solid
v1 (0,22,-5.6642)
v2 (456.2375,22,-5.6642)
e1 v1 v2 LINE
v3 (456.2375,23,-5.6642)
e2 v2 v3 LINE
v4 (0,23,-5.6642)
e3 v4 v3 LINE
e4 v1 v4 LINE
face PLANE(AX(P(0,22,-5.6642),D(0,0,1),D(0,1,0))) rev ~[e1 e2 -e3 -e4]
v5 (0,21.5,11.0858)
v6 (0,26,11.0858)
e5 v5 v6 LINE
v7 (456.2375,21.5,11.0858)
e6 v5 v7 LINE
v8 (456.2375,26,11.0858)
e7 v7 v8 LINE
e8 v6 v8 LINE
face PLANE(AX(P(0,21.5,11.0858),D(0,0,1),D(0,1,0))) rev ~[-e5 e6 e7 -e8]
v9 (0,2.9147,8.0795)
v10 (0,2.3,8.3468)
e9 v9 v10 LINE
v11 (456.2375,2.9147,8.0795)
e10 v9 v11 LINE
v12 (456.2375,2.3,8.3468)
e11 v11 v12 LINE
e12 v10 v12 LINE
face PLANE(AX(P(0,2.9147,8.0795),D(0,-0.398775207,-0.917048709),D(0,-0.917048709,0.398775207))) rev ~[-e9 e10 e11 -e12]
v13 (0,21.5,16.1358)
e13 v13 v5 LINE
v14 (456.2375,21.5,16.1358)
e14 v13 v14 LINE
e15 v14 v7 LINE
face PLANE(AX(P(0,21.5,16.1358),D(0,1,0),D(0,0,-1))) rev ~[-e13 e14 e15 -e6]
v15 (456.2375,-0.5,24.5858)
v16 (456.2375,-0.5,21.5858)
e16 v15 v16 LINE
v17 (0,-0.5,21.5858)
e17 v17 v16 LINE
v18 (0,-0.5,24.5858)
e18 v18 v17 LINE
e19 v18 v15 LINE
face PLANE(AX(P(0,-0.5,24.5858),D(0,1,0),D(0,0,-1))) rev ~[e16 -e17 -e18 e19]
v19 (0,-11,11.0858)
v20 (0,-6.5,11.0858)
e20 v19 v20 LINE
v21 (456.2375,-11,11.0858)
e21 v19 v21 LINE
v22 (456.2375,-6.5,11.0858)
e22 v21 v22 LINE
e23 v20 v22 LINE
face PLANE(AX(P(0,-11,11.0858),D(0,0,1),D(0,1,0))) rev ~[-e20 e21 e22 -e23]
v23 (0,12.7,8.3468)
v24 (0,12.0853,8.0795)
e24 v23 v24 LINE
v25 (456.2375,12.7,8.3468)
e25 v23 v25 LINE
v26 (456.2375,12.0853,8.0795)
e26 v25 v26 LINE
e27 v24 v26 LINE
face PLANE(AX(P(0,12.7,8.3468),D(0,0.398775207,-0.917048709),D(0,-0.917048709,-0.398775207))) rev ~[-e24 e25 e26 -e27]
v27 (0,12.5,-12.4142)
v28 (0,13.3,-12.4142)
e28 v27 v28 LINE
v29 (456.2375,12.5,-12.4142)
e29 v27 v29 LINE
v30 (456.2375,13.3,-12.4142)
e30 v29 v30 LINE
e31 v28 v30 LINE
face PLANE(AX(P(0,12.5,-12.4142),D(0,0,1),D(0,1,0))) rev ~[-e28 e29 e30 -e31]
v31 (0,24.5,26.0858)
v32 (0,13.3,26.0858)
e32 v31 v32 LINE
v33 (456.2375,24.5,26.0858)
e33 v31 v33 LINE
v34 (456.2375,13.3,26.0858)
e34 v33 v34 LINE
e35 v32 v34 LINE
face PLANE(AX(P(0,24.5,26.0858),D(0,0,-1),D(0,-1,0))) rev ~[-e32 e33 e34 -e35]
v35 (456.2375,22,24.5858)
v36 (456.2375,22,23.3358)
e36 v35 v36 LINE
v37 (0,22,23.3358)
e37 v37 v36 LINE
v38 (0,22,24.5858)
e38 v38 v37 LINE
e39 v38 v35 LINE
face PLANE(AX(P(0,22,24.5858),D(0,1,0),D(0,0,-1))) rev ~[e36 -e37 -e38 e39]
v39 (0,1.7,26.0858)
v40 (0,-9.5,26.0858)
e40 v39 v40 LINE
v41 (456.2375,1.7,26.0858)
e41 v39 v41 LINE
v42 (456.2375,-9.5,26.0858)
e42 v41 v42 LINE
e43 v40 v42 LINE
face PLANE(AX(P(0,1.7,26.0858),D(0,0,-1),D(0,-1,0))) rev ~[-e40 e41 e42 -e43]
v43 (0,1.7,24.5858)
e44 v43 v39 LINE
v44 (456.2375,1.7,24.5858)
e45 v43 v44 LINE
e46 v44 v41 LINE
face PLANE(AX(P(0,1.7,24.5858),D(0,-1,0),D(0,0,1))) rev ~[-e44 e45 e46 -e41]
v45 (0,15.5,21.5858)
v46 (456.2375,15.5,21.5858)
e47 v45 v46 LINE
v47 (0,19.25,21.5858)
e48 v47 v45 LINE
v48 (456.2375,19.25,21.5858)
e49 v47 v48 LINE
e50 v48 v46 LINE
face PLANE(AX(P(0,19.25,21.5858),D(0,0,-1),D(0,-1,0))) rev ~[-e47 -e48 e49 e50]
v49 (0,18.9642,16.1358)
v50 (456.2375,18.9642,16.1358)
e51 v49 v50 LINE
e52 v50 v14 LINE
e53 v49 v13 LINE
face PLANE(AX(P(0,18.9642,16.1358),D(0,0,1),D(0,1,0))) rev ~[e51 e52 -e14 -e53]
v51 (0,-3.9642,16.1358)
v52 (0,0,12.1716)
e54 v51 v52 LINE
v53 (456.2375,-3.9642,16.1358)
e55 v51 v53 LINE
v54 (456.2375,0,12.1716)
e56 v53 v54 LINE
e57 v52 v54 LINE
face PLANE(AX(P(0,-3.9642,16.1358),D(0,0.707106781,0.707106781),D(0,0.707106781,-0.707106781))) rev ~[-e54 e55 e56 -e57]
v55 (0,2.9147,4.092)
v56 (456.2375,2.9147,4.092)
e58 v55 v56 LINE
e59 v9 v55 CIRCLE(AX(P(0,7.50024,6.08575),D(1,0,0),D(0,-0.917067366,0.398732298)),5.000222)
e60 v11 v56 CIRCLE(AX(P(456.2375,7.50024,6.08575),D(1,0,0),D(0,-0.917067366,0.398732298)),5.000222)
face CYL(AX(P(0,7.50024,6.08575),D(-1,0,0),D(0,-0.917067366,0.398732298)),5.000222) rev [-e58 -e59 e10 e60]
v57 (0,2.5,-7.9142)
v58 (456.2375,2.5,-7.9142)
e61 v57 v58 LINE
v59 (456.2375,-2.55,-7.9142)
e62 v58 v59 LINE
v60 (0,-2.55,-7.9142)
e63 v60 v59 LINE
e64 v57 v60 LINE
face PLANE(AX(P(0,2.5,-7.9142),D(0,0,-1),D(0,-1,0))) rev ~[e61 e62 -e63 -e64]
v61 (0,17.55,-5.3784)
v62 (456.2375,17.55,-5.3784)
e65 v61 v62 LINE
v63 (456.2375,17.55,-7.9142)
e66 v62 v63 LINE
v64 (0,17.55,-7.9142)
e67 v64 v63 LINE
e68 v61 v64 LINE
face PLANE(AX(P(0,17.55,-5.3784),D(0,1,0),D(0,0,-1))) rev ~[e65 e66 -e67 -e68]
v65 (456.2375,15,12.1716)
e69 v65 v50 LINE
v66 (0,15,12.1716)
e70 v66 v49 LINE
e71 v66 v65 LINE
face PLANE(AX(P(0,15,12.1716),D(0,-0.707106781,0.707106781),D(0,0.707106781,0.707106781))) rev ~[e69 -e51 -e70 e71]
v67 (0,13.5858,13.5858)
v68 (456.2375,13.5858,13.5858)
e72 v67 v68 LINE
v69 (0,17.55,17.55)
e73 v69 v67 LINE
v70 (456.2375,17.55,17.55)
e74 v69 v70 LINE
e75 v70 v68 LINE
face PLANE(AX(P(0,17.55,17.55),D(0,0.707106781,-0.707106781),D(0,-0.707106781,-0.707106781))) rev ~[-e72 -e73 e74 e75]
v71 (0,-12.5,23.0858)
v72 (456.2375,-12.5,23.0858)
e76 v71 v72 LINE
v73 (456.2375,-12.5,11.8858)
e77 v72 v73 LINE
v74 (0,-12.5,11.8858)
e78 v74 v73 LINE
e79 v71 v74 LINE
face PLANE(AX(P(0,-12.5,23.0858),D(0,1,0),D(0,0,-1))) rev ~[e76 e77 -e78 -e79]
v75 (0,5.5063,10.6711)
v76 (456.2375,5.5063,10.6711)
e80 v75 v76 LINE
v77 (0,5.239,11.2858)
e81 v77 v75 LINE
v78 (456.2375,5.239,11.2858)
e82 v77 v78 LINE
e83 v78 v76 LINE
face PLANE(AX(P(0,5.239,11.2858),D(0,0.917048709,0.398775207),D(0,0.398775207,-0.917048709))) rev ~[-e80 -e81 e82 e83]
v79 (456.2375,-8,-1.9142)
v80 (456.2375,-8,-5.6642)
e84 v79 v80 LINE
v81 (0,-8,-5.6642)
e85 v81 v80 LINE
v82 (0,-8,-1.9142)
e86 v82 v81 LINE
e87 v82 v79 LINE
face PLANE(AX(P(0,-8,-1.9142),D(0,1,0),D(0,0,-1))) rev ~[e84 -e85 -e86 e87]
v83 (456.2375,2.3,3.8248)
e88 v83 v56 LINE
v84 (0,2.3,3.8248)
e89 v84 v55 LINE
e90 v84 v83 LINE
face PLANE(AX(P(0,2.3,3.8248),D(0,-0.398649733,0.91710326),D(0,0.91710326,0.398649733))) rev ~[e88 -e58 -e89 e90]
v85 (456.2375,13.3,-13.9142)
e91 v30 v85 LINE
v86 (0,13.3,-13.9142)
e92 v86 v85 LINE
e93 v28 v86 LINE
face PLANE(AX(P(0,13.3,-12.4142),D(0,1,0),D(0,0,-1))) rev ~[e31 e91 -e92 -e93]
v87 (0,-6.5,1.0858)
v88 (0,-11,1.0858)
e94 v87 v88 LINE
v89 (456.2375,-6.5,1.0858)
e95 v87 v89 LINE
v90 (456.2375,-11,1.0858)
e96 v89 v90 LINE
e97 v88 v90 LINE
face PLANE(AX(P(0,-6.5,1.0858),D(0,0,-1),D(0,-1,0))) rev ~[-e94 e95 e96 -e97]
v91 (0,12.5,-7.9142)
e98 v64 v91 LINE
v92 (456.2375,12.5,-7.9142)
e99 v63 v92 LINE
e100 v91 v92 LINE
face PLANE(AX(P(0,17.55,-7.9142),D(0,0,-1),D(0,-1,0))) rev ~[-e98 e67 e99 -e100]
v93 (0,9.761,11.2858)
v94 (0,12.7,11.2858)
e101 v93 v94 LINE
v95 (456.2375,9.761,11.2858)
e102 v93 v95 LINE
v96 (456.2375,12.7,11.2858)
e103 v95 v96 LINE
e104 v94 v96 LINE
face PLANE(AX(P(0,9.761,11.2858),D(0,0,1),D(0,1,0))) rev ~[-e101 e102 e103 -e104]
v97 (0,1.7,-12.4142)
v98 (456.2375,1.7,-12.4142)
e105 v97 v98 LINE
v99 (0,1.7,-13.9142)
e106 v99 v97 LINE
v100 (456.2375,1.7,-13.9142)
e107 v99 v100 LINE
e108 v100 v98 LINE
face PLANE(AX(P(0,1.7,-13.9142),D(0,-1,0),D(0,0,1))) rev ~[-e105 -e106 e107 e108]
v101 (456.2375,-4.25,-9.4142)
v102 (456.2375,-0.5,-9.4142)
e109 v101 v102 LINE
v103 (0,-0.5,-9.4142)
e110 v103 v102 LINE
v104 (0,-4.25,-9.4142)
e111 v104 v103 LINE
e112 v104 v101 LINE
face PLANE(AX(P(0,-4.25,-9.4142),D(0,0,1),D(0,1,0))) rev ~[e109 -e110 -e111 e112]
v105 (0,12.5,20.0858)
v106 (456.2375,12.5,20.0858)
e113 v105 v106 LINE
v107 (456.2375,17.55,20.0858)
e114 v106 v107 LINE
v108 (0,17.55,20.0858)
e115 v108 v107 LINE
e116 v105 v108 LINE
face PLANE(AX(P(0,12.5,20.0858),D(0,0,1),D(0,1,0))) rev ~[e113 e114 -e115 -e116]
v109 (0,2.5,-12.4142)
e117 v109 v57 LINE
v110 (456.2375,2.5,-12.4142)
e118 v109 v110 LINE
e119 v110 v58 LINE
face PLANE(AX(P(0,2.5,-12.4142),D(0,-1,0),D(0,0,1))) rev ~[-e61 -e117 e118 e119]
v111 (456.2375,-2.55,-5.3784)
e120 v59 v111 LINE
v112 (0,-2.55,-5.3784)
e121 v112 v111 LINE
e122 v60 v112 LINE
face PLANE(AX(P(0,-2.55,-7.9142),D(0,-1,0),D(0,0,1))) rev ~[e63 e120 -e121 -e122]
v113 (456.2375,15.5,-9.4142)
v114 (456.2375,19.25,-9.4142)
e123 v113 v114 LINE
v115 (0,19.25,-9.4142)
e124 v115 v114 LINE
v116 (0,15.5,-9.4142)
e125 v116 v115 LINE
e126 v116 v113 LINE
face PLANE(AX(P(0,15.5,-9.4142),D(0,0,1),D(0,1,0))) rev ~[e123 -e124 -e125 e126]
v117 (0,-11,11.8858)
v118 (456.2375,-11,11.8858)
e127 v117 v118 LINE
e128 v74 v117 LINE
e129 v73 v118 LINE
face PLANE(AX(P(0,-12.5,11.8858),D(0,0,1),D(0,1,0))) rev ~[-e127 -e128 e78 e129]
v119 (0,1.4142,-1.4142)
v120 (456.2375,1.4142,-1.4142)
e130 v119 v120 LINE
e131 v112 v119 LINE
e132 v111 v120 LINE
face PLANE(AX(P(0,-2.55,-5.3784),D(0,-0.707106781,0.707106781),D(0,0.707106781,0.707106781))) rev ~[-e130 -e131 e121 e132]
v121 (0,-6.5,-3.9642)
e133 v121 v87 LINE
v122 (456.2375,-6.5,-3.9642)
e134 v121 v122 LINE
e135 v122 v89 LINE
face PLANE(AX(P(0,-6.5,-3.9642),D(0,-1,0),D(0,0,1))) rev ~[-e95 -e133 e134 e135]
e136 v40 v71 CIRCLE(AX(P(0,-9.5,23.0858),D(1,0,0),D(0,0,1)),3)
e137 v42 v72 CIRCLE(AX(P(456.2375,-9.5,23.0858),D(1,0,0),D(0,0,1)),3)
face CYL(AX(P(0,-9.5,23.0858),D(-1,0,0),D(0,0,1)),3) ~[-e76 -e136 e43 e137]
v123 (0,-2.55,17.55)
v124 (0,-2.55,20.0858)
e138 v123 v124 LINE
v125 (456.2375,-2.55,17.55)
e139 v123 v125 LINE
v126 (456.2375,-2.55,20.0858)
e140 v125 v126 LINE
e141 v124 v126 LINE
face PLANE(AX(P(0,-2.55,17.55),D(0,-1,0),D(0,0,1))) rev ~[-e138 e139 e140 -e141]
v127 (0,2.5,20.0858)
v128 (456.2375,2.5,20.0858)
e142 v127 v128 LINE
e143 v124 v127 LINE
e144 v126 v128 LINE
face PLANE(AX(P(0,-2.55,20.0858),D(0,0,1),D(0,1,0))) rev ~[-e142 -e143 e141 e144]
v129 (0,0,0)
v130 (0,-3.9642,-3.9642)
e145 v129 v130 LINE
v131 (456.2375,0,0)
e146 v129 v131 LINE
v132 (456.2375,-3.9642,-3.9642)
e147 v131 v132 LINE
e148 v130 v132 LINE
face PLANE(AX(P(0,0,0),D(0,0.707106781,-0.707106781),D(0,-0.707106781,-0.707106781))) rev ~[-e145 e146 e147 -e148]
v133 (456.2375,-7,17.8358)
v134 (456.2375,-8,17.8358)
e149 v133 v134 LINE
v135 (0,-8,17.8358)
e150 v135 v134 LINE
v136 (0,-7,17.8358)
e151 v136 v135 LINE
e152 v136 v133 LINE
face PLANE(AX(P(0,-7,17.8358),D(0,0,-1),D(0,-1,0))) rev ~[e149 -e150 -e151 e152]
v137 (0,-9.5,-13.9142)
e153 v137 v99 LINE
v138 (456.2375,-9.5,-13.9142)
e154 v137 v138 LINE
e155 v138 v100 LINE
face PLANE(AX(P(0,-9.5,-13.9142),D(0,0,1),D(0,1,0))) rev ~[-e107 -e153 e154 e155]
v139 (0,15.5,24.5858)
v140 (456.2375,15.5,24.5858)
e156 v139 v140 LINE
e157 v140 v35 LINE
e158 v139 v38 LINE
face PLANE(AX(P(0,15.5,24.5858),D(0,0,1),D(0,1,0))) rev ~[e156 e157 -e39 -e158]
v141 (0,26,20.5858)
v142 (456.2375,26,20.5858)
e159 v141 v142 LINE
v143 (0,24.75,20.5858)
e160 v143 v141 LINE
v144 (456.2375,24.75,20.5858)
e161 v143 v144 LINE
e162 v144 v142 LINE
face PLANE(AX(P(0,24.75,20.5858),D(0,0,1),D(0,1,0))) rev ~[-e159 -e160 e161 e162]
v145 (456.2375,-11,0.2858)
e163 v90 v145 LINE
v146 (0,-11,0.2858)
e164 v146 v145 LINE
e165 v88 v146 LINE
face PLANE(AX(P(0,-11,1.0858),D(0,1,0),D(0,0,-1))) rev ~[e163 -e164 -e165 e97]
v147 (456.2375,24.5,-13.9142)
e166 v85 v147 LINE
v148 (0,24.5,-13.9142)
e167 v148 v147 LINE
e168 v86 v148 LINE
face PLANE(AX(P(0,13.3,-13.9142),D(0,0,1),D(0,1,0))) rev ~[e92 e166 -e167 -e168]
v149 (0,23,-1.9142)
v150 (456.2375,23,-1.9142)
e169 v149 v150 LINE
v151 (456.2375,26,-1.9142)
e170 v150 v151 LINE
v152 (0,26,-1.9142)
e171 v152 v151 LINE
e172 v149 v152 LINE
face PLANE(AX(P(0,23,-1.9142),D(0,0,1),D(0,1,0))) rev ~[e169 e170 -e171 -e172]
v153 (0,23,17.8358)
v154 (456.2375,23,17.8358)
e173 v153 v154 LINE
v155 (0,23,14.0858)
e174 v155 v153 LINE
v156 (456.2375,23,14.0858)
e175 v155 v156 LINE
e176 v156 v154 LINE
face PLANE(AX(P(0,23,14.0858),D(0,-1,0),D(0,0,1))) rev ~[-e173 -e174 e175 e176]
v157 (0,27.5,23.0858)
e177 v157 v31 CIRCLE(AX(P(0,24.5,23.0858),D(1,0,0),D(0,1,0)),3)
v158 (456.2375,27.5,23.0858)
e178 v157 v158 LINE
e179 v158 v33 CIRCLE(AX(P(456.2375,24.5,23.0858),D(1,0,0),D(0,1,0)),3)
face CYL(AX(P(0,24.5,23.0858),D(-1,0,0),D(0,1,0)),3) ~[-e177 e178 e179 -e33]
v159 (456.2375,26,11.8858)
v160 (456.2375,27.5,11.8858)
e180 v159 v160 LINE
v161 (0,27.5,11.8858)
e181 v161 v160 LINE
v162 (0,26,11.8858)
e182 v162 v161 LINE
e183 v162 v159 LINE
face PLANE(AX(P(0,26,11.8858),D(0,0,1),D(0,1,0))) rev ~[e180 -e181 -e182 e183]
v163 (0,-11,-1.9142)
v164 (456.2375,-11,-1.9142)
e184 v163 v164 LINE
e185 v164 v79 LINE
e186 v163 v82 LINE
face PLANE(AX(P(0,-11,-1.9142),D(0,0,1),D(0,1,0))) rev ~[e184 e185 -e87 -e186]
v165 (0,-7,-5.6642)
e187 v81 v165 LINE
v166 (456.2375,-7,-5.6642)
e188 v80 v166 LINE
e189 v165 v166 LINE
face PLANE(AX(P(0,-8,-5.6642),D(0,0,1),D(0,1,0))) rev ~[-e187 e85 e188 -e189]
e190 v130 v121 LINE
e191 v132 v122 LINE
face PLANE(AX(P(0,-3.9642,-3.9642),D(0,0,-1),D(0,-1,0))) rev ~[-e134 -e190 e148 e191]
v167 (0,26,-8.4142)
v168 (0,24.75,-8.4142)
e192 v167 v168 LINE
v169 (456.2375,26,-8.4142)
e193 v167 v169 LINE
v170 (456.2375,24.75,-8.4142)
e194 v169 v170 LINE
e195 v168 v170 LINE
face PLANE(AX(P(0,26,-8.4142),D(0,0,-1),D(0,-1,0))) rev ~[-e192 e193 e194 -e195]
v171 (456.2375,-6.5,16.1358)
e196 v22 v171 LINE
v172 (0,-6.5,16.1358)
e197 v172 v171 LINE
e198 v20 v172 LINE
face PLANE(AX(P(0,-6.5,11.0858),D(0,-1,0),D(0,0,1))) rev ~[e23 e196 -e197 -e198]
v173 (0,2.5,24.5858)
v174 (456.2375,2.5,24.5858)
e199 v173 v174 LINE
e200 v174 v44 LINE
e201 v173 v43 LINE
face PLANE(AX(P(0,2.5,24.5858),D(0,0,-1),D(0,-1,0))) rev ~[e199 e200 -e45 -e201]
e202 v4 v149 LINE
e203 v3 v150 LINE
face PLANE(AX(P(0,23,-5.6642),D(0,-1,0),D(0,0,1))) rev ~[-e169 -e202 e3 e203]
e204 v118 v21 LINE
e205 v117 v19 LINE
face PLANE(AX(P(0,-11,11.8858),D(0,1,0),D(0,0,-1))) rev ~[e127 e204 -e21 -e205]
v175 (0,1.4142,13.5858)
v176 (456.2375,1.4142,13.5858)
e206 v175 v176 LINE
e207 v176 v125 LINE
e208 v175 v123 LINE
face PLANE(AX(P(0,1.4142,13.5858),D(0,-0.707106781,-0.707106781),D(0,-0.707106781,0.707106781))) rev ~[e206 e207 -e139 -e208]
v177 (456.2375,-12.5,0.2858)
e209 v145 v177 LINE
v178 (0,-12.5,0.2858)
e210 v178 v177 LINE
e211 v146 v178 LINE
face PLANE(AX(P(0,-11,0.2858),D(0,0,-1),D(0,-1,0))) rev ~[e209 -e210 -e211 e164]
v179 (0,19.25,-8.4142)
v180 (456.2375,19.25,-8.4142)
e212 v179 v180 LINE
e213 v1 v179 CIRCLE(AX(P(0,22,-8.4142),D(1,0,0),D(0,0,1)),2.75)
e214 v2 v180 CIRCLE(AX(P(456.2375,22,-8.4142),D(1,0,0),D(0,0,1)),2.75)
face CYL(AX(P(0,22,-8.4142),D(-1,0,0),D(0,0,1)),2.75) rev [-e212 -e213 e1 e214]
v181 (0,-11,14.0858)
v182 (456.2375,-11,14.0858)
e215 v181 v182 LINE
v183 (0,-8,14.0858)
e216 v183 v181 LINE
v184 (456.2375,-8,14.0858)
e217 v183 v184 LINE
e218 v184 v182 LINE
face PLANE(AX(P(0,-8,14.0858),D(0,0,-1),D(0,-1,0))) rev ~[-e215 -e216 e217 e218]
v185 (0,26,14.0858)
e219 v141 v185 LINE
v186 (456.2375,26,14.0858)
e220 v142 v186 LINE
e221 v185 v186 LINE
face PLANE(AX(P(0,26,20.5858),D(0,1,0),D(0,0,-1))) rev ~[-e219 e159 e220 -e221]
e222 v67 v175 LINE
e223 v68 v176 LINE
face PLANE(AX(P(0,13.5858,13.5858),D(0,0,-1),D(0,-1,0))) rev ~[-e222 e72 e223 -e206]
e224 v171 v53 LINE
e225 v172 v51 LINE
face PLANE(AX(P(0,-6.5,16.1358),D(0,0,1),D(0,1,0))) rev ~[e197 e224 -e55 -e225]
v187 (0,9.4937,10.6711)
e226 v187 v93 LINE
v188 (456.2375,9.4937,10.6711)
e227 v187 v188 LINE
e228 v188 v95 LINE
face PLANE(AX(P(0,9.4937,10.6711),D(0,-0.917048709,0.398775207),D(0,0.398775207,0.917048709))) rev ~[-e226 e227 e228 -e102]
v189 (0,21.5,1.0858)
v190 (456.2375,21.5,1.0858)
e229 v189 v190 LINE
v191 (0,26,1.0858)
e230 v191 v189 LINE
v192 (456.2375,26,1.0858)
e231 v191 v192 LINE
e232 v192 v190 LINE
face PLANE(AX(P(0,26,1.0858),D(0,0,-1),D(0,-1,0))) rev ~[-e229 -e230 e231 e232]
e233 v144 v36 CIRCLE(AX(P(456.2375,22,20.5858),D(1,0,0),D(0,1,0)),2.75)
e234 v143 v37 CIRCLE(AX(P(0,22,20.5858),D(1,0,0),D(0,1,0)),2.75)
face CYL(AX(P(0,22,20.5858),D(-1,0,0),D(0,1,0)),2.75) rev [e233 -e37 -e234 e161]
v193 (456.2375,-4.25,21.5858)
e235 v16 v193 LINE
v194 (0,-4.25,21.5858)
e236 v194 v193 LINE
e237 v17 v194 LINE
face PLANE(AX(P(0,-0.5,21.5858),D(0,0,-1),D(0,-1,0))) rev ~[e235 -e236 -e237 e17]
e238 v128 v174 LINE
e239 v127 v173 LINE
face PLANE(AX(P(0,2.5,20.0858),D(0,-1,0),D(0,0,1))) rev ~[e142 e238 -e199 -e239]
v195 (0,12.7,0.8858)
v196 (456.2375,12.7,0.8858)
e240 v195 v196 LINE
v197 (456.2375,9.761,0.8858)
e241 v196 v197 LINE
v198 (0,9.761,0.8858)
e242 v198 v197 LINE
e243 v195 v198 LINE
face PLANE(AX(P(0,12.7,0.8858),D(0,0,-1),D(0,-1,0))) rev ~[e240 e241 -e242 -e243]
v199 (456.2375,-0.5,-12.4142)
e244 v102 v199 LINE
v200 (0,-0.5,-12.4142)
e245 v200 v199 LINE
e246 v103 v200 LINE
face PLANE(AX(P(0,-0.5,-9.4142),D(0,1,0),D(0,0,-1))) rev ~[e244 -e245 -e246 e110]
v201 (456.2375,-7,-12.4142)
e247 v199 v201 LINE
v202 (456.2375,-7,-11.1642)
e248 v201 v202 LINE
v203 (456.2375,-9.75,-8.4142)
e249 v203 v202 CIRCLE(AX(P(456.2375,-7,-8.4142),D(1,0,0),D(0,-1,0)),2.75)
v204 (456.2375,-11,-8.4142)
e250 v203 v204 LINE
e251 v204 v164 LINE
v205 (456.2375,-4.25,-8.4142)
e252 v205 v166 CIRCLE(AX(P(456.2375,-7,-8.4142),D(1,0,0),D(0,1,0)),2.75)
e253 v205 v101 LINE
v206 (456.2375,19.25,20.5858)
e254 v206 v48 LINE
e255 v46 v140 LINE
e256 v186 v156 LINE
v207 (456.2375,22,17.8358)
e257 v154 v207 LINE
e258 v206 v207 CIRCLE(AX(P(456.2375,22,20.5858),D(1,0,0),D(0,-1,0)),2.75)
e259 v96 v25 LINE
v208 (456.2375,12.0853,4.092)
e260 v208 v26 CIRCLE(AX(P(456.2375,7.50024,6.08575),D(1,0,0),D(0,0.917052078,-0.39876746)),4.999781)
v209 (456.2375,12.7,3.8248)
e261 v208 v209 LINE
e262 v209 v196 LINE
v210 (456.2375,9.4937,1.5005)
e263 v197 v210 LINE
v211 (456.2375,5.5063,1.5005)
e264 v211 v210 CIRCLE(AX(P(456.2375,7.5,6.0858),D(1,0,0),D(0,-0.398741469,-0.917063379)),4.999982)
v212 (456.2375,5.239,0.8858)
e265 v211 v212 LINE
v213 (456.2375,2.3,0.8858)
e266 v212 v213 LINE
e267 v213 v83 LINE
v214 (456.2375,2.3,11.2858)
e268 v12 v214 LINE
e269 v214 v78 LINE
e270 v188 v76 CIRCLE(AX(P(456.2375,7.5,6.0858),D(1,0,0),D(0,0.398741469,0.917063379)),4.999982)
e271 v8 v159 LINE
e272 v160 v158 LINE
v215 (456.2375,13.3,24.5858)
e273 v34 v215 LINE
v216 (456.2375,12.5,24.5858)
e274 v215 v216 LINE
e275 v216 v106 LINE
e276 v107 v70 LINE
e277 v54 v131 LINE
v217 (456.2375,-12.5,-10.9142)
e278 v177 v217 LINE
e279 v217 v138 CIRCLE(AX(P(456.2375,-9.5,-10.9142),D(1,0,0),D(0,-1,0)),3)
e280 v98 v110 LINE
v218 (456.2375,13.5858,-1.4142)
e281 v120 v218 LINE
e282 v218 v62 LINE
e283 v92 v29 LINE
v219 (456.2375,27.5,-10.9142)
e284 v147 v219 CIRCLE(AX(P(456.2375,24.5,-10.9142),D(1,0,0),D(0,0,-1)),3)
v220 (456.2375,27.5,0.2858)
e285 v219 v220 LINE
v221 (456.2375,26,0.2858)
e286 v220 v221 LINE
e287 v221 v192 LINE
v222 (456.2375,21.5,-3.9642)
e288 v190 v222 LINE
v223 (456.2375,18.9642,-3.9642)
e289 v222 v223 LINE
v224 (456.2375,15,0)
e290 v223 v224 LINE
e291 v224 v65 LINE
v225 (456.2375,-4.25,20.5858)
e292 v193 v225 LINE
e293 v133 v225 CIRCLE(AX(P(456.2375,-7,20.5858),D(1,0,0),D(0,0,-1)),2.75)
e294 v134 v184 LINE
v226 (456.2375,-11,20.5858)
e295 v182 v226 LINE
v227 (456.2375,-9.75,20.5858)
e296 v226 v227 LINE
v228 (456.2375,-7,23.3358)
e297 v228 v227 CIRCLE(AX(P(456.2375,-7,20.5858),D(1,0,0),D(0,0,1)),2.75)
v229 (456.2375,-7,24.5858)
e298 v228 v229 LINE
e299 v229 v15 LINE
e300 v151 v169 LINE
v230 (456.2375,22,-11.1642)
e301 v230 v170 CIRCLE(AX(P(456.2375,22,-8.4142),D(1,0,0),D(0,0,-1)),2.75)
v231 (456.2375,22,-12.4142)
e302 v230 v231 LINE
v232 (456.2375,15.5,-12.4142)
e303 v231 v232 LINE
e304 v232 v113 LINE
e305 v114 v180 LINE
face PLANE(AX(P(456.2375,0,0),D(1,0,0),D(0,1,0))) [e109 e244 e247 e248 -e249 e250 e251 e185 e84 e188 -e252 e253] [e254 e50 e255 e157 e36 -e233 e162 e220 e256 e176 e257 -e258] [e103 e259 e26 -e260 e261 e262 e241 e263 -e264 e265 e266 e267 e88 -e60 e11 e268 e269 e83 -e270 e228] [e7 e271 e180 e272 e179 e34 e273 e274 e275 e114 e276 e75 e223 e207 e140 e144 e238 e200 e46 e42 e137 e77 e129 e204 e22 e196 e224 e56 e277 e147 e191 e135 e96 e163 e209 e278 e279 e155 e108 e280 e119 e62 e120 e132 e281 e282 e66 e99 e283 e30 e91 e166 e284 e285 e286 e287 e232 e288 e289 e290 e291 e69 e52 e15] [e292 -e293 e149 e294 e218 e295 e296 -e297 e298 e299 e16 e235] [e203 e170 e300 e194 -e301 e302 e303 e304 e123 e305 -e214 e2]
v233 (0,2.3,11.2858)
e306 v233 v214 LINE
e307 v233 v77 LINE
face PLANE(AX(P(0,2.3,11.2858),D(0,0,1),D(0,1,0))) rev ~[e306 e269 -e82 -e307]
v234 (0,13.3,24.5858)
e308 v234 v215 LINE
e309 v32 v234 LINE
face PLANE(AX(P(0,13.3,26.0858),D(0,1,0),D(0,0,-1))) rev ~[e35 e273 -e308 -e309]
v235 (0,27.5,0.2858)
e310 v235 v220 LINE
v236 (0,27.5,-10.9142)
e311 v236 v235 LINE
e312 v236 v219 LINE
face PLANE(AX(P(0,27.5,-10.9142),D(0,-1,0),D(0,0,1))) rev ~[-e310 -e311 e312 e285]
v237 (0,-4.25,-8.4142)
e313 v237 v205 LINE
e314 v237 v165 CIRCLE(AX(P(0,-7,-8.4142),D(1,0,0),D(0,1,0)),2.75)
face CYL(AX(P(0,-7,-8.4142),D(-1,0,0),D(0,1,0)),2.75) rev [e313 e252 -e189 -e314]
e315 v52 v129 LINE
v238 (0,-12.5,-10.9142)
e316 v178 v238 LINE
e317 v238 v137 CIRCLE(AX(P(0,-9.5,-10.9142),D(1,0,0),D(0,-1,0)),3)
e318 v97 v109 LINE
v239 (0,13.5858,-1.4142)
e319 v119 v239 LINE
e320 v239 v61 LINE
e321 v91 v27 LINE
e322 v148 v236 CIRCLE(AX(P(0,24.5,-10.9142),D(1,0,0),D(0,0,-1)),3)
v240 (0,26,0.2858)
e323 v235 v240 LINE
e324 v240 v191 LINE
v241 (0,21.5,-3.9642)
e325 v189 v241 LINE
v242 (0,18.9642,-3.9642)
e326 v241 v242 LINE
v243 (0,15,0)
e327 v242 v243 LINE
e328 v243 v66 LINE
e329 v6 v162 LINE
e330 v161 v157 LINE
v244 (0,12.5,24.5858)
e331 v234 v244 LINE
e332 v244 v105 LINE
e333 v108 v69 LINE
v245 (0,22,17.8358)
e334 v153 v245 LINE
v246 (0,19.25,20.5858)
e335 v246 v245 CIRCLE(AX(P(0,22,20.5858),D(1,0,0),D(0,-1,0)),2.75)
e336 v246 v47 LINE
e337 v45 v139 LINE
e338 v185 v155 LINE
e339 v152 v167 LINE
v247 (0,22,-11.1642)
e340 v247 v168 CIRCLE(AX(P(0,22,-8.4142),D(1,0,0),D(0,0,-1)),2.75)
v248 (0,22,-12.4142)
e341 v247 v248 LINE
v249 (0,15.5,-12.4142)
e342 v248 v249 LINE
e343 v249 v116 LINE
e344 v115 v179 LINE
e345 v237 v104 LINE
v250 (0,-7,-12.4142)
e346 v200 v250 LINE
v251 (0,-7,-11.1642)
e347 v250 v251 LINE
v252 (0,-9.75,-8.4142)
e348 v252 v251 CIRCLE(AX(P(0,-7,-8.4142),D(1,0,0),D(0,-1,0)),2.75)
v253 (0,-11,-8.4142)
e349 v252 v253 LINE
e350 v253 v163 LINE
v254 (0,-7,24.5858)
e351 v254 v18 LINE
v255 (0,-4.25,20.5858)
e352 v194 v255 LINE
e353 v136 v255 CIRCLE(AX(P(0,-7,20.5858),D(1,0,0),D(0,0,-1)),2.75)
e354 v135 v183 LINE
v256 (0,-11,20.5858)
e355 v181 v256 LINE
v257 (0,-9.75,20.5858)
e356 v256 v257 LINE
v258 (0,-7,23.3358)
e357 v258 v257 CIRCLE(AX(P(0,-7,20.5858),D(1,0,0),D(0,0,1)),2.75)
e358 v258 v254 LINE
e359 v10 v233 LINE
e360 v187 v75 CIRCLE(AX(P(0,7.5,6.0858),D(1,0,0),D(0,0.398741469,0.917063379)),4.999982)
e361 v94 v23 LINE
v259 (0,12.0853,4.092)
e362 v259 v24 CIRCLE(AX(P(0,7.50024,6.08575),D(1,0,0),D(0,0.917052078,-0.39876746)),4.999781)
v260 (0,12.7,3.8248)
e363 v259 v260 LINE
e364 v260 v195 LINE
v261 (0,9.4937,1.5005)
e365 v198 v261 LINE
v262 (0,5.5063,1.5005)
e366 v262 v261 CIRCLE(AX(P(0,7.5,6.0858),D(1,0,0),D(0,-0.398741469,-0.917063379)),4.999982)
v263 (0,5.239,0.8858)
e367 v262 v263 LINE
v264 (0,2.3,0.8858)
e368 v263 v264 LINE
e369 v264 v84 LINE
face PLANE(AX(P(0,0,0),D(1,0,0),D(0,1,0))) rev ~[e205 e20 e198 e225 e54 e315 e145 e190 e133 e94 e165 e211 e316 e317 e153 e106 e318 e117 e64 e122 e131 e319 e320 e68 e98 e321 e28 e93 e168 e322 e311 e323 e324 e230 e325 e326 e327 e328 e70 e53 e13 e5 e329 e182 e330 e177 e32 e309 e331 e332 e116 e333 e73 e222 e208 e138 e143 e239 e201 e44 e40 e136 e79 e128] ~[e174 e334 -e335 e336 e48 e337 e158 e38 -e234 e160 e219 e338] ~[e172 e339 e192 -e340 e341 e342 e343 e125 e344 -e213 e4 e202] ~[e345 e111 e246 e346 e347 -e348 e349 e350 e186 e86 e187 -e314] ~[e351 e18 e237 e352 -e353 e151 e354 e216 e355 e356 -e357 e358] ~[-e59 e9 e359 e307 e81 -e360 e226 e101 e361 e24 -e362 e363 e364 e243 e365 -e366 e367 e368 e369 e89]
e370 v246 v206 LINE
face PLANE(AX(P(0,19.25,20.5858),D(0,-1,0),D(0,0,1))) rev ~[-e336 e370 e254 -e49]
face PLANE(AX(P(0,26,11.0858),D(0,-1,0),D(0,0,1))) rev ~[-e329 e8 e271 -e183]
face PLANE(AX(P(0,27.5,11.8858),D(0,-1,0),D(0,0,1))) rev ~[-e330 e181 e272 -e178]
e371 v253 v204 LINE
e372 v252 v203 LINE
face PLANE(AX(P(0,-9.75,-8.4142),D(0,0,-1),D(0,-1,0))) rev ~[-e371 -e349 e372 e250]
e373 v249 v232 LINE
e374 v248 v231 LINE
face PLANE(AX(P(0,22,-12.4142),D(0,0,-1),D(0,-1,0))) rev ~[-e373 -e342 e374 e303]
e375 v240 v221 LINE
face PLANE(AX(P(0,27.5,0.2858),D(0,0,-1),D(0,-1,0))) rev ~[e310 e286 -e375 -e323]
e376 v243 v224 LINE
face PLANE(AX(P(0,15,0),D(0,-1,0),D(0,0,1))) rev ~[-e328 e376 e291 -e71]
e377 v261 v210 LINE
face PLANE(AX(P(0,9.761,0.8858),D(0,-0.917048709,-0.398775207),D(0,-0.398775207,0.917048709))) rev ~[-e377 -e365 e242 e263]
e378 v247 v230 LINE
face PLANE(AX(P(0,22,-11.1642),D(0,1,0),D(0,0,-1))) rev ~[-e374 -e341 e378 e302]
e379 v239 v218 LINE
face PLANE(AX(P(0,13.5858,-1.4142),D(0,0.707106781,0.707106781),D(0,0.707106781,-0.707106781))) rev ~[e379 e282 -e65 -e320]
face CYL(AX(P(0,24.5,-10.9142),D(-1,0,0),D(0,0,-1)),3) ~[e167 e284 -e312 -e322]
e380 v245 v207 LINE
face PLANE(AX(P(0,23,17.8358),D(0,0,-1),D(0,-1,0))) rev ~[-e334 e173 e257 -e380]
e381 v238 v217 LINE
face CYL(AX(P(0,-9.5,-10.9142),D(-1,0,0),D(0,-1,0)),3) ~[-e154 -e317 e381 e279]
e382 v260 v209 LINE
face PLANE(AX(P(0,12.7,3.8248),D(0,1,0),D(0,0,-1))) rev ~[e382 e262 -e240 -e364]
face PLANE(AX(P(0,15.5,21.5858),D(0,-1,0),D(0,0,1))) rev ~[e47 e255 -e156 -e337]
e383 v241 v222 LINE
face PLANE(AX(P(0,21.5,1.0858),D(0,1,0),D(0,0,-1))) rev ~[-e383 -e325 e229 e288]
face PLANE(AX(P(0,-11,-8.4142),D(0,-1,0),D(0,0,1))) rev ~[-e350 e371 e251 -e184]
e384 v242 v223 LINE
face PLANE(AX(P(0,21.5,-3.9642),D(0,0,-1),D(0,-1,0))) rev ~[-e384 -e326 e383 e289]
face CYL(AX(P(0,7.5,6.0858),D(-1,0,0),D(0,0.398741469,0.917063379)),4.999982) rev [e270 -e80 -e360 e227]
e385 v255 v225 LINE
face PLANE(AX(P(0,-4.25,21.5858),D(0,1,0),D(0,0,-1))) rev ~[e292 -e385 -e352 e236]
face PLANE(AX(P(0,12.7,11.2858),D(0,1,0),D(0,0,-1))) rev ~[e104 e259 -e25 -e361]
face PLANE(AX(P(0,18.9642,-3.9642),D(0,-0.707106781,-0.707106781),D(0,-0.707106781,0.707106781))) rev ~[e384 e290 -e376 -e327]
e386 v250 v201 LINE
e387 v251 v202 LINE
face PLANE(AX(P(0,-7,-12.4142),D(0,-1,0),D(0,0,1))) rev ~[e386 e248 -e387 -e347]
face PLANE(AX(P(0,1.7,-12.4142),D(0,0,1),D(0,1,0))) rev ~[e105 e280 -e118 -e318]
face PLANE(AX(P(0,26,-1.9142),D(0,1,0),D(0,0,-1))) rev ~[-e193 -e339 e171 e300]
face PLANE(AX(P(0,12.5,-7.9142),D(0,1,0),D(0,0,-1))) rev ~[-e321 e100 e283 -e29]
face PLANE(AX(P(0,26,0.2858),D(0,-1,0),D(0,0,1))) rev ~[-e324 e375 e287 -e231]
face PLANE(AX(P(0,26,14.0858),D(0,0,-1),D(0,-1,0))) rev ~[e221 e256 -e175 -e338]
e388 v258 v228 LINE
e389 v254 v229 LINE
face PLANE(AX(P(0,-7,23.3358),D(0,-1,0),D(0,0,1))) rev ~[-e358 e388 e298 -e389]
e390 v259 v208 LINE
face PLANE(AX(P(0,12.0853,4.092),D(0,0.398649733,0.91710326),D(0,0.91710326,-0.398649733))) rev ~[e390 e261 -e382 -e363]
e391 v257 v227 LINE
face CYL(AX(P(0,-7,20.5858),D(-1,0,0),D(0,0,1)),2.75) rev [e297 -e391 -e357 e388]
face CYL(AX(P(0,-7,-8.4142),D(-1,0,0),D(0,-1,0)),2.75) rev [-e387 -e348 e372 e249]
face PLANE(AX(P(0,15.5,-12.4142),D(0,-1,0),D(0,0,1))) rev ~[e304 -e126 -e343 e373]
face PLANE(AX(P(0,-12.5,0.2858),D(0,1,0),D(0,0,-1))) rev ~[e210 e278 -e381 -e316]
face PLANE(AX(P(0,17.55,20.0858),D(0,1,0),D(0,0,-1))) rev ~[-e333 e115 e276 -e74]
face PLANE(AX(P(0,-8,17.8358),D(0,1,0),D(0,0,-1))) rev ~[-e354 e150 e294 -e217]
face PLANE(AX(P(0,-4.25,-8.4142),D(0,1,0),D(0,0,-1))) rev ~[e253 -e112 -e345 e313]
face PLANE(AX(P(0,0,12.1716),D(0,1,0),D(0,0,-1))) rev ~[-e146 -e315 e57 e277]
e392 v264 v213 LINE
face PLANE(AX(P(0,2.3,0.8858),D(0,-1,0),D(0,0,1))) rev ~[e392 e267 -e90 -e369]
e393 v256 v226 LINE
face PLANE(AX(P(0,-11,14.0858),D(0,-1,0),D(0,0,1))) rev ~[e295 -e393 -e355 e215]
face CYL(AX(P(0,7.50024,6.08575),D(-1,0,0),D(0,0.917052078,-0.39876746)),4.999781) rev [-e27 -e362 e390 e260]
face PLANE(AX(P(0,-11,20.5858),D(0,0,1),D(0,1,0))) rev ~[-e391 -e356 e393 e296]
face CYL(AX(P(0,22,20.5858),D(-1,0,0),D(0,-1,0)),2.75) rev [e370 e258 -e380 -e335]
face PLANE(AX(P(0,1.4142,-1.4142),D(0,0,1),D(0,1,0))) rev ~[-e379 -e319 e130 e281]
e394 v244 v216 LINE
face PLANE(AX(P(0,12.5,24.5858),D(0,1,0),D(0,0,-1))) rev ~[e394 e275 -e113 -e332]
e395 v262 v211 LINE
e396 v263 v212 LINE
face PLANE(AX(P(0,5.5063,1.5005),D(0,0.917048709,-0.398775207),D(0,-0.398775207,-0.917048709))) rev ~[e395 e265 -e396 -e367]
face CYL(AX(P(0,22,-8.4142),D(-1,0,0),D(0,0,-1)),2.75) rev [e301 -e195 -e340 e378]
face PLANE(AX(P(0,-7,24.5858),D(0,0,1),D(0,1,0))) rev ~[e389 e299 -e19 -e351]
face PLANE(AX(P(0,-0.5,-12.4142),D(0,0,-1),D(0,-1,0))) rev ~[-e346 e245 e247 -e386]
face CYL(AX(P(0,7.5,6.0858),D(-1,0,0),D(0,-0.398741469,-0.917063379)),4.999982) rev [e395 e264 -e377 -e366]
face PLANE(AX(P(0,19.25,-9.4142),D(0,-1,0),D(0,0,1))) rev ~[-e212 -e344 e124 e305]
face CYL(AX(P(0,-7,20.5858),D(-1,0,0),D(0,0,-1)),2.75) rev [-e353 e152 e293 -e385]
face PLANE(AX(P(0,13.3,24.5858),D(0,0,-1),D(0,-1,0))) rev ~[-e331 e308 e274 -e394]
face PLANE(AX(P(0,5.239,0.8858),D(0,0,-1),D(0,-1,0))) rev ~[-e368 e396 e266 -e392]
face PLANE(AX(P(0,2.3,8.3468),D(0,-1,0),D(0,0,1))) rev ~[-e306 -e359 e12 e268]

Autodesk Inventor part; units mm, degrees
ref_plane "YZ Plane" through (0, 0, 0) normal (1, 0, 0) x (0, 1, 0)
ref_plane "XZ Plane" through (0, 0, 0) normal (0, 1, 0) x (-1, 0, 0)
ref_plane "XY Plane" through (0, 0, 0) normal (0, 0, 1) x (1, 0, 0)
sketch "Sketch1" plane through (0, 0, 0) normal (1, 0, 0) x (0, 1, 0)
  line L0 (0, 12.1716) -> (0, 0)
  line L1 (0, 0) -> (-3.9642, -3.9642)
  line L2 (-3.9642, -3.9642) -> (-6.5, -3.9642)
  line L3 (-6.5, -3.9642) -> (-6.5, 1.0858)
  line L4 (-6.5, 1.0858) -> (-11, 1.0858)
  line L5 (-11, 1.0858) -> (-11, 0.2858)
  line L6 (-11, 0.2858) -> (-12.5, 0.2858)
  line L7 (-12.5, 0.2858) -> (-12.5, -10.9142)
  arc A0 (-12.5, -10.9142) -> (-9.5, -13.9142) centre (-9.5, -10.9142) ccw
  line L8 (-9.5, -13.9142) -> (1.7, -13.9142)
  line L9 (1.7, -13.9142) -> (1.7, -12.4142)
  line L10 (1.7, -12.4142) -> (2.5, -12.4142)
  line L11 (2.5, -12.4142) -> (2.5, -7.9142)
  line L12 (2.5, -7.9142) -> (-2.55, -7.9142)
  line L13 (-2.55, -7.9142) -> (-2.55, -5.3784)
  line L14 (-2.55, -5.3784) -> (1.4142, -1.4142)
  line L15 (1.4142, -1.4142) -> (13.5858, -1.4142)
  line L16 (13.5858, -1.4142) -> (17.55, -5.3784)
  line L17 (17.55, -5.3784) -> (17.55, -7.9142)
  line L18 (17.55, -7.9142) -> (12.5, -7.9142)
  line L19 (12.5, -7.9142) -> (12.5, -12.4142)
  line L20 (12.5, -12.4142) -> (13.3, -12.4142)
  line L21 (13.3, -12.4142) -> (13.3, -13.9142)
  line L22 (13.3, -13.9142) -> (24.5, -13.9142)
  arc A1 (24.5, -13.9142) -> (27.5, -10.9142) centre (24.5, -10.9142) ccw
  line L23 (27.5, -10.9142) -> (27.5, 0.2858)
  line L24 (27.5, 0.2858) -> (26, 0.2858)
  line L25 (26, 0.2858) -> (26, 1.0858)
  line L26 (26, 1.0858) -> (21.5, 1.0858)
  line L27 (21.5, 1.0858) -> (21.5, -3.9642)
  line L28 (21.5, -3.9642) -> (18.9642, -3.9642)
  line L29 (18.9642, -3.9642) -> (15, 0)
  line L30 (15, 0) -> (15, 12.1716)
  line L31 (15, 12.1716) -> (18.9642, 16.1358)
  line L32 (18.9642, 16.1358) -> (21.5, 16.1358)
  line L33 (21.5, 16.1358) -> (21.5, 11.0858)
  line L34 (21.5, 11.0858) -> (26, 11.0858)
  line L35 (26, 11.0858) -> (26, 11.8858)
  line L36 (26, 11.8858) -> (27.5, 11.8858)
  line L37 (27.5, 11.8858) -> (27.5, 23.0858)
  arc A2 (27.5, 23.0858) -> (24.5, 26.0858) centre (24.5, 23.0858) ccw
  line L38 (24.5, 26.0858) -> (13.3, 26.0858)
  line L39 (13.3, 26.0858) -> (13.3, 24.5858)
  line L40 (13.3, 24.5858) -> (12.5, 24.5858)
  line L41 (12.5, 24.5858) -> (12.5, 20.0858)
  line L42 (12.5, 20.0858) -> (17.55, 20.0858)
  line L43 (17.55, 20.0858) -> (17.55, 17.55)
  line L44 (17.55, 17.55) -> (13.5858, 13.5858)
  line L45 (13.5858, 13.5858) -> (1.4142, 13.5858)
  line L46 (1.4142, 13.5858) -> (-2.55, 17.55)
  line L47 (-2.55, 17.55) -> (-2.55, 20.0858)
  line L48 (-2.55, 20.0858) -> (2.5, 20.0858)
  line L49 (2.5, 20.0858) -> (2.5, 24.5858)
  line L50 (2.5, 24.5858) -> (1.7, 24.5858)
  line L51 (1.7, 24.5858) -> (1.7, 26.0858)
  line L52 (1.7, 26.0858) -> (-9.5, 26.0858)
  arc A3 (-9.5, 26.0858) -> (-12.5, 23.0858) centre (-9.5, 23.0858) ccw
  line L53 (-12.5, 23.0858) -> (-12.5, 11.8858)
  line L54 (-12.5, 11.8858) -> (-11, 11.8858)
  line L55 (-11, 11.8858) -> (-11, 11.0858)
  line L56 (-11, 11.0858) -> (-6.5, 11.0858)
  line L57 (-6.5, 11.0858) -> (-6.5, 16.1358)
  line L58 (-6.5, 16.1358) -> (-3.9642, 16.1358)
  line L59 (-3.9642, 16.1358) -> (0, 12.1716)
  line L60 (-0.5, 24.5858) -> (-0.5, 21.5858)
  line L61 (-0.5, 21.5858) -> (-4.25, 21.5858)
  line L62 (-4.25, 21.5858) -> (-4.25, 20.5858)
  arc A4 (-7, 17.8358) -> (-4.25, 20.5858) centre (-7, 20.5858) ccw
  line L63 (-7, 17.8358) -> (-8, 17.8358)
  line L64 (-8, 17.8358) -> (-8, 14.0858)
  line L65 (-8, 14.0858) -> (-11, 14.0858)
  line L66 (-11, 14.0858) -> (-11, 20.5858)
  line L67 (-11, 20.5858) -> (-9.75, 20.5858)
  arc A5 (-7, 23.3358) -> (-9.75, 20.5858) centre (-7, 20.5858) ccw
  line L68 (-7, 23.3358) -> (-7, 24.5858)
  line L69 (-7, 24.5858) -> (-0.5, 24.5858)
  line L70 (26, 14.0858) -> (23, 14.0858)
  line L71 (23, 14.0858) -> (23, 17.8358)
  line L72 (23, 17.8358) -> (22, 17.8358)
  arc A6 (19.25, 20.5858) -> (22, 17.8358) centre (22, 20.5858) ccw
  line L73 (19.25, 20.5858) -> (19.25, 21.5858)
  line L74 (19.25, 21.5858) -> (15.5, 21.5858)
  line L75 (15.5, 21.5858) -> (15.5, 24.5858)
  line L76 (15.5, 24.5858) -> (22, 24.5858)
  line L77 (22, 24.5858) -> (22, 23.3358)
  arc A7 (24.75, 20.5858) -> (22, 23.3358) centre (22, 20.5858) ccw
  line L78 (24.75, 20.5858) -> (26, 20.5858)
  line L79 (26, 20.5858) -> (26, 14.0858)
  line L80 (15.5, -12.4142) -> (15.5, -9.4142)
  line L81 (15.5, -9.4142) -> (19.25, -9.4142)
  line L82 (19.25, -9.4142) -> (19.25, -8.4142)
  arc A8 (22, -5.6642) -> (19.25, -8.4142) centre (22, -8.4142) ccw
  line L83 (22, -5.6642) -> (23, -5.6642)
  line L84 (23, -5.6642) -> (23, -1.9142)
  line L85 (23, -1.9142) -> (26, -1.9142)
  line L86 (26, -1.9142) -> (26, -8.4142)
  line L87 (26, -8.4142) -> (24.75, -8.4142)
  arc A9 (22, -11.1642) -> (24.75, -8.4142) centre (22, -8.4142) ccw
  line L88 (22, -11.1642) -> (22, -12.4142)
  line L89 (22, -12.4142) -> (15.5, -12.4142)
  line L90 (9.761, 0.8858) -> (9.4937, 1.5005)
  arc A10 (5.5063, 1.5005) -> (9.4937, 1.5005) centre (7.5, 6.0858) ccw
  line L91 (5.5063, 1.5005) -> (5.239, 0.8858)
  line L92 (5.239, 0.8858) -> (2.3, 0.8858)
  line L93 (2.3, 0.8858) -> (2.3, 3.8248)
  line L94 (2.3, 3.8248) -> (2.9147, 4.092)
  arc A11 (2.9147, 8.0795) -> (2.9147, 4.092) centre (7.5, 6.0858) ccw
  line L95 (2.9147, 8.0795) -> (2.3, 8.3468)
  line L96 (2.3, 8.3468) -> (2.3, 11.2858)
  line L97 (2.3, 11.2858) -> (5.239, 11.2858)
  line L98 (5.239, 11.2858) -> (5.5063, 10.6711)
  arc A12 (9.4937, 10.6711) -> (5.5063, 10.6711) centre (7.5, 6.0858) ccw
  line L99 (9.4937, 10.6711) -> (9.761, 11.2858)
  line L100 (9.761, 11.2858) -> (12.7, 11.2858)
  line L101 (12.7, 11.2858) -> (12.7, 8.3468)
  line L102 (12.7, 8.3468) -> (12.0853, 8.0795)
  arc A13 (12.0853, 4.092) -> (12.0853, 8.0795) centre (7.5, 6.0858) ccw
  line L103 (12.0853, 4.092) -> (12.7, 3.8248)
  line L104 (12.7, 3.8248) -> (12.7, 0.8858)
  line L105 (12.7, 0.8858) -> (9.761, 0.8858)
  line L106 (-11, -1.9142) -> (-8, -1.9142)
  line L107 (-8, -1.9142) -> (-8, -5.6642)
  line L108 (-8, -5.6642) -> (-7, -5.6642)
  arc A14 (-4.25, -8.4142) -> (-7, -5.6642) centre (-7, -8.4142) ccw
  line L109 (-4.25, -8.4142) -> (-4.25, -9.4142)
  line L110 (-4.25, -9.4142) -> (-0.5, -9.4142)
  line L111 (-0.5, -9.4142) -> (-0.5, -12.4142)
  line L112 (-0.5, -12.4142) -> (-7, -12.4142)
  line L113 (-7, -12.4142) -> (-7, -11.1642)
  arc A15 (-9.75, -8.4142) -> (-7, -11.1642) centre (-7, -8.4142) ccw
  line L114 (-9.75, -8.4142) -> (-11, -8.4142)
  line L115 (-11, -8.4142) -> (-11, -1.9142)
extrude "Extrusion1" add sketch "Sketch1" along normal blind 456.2375
properties part number "lower front rail" material "Aluminum-6061"
